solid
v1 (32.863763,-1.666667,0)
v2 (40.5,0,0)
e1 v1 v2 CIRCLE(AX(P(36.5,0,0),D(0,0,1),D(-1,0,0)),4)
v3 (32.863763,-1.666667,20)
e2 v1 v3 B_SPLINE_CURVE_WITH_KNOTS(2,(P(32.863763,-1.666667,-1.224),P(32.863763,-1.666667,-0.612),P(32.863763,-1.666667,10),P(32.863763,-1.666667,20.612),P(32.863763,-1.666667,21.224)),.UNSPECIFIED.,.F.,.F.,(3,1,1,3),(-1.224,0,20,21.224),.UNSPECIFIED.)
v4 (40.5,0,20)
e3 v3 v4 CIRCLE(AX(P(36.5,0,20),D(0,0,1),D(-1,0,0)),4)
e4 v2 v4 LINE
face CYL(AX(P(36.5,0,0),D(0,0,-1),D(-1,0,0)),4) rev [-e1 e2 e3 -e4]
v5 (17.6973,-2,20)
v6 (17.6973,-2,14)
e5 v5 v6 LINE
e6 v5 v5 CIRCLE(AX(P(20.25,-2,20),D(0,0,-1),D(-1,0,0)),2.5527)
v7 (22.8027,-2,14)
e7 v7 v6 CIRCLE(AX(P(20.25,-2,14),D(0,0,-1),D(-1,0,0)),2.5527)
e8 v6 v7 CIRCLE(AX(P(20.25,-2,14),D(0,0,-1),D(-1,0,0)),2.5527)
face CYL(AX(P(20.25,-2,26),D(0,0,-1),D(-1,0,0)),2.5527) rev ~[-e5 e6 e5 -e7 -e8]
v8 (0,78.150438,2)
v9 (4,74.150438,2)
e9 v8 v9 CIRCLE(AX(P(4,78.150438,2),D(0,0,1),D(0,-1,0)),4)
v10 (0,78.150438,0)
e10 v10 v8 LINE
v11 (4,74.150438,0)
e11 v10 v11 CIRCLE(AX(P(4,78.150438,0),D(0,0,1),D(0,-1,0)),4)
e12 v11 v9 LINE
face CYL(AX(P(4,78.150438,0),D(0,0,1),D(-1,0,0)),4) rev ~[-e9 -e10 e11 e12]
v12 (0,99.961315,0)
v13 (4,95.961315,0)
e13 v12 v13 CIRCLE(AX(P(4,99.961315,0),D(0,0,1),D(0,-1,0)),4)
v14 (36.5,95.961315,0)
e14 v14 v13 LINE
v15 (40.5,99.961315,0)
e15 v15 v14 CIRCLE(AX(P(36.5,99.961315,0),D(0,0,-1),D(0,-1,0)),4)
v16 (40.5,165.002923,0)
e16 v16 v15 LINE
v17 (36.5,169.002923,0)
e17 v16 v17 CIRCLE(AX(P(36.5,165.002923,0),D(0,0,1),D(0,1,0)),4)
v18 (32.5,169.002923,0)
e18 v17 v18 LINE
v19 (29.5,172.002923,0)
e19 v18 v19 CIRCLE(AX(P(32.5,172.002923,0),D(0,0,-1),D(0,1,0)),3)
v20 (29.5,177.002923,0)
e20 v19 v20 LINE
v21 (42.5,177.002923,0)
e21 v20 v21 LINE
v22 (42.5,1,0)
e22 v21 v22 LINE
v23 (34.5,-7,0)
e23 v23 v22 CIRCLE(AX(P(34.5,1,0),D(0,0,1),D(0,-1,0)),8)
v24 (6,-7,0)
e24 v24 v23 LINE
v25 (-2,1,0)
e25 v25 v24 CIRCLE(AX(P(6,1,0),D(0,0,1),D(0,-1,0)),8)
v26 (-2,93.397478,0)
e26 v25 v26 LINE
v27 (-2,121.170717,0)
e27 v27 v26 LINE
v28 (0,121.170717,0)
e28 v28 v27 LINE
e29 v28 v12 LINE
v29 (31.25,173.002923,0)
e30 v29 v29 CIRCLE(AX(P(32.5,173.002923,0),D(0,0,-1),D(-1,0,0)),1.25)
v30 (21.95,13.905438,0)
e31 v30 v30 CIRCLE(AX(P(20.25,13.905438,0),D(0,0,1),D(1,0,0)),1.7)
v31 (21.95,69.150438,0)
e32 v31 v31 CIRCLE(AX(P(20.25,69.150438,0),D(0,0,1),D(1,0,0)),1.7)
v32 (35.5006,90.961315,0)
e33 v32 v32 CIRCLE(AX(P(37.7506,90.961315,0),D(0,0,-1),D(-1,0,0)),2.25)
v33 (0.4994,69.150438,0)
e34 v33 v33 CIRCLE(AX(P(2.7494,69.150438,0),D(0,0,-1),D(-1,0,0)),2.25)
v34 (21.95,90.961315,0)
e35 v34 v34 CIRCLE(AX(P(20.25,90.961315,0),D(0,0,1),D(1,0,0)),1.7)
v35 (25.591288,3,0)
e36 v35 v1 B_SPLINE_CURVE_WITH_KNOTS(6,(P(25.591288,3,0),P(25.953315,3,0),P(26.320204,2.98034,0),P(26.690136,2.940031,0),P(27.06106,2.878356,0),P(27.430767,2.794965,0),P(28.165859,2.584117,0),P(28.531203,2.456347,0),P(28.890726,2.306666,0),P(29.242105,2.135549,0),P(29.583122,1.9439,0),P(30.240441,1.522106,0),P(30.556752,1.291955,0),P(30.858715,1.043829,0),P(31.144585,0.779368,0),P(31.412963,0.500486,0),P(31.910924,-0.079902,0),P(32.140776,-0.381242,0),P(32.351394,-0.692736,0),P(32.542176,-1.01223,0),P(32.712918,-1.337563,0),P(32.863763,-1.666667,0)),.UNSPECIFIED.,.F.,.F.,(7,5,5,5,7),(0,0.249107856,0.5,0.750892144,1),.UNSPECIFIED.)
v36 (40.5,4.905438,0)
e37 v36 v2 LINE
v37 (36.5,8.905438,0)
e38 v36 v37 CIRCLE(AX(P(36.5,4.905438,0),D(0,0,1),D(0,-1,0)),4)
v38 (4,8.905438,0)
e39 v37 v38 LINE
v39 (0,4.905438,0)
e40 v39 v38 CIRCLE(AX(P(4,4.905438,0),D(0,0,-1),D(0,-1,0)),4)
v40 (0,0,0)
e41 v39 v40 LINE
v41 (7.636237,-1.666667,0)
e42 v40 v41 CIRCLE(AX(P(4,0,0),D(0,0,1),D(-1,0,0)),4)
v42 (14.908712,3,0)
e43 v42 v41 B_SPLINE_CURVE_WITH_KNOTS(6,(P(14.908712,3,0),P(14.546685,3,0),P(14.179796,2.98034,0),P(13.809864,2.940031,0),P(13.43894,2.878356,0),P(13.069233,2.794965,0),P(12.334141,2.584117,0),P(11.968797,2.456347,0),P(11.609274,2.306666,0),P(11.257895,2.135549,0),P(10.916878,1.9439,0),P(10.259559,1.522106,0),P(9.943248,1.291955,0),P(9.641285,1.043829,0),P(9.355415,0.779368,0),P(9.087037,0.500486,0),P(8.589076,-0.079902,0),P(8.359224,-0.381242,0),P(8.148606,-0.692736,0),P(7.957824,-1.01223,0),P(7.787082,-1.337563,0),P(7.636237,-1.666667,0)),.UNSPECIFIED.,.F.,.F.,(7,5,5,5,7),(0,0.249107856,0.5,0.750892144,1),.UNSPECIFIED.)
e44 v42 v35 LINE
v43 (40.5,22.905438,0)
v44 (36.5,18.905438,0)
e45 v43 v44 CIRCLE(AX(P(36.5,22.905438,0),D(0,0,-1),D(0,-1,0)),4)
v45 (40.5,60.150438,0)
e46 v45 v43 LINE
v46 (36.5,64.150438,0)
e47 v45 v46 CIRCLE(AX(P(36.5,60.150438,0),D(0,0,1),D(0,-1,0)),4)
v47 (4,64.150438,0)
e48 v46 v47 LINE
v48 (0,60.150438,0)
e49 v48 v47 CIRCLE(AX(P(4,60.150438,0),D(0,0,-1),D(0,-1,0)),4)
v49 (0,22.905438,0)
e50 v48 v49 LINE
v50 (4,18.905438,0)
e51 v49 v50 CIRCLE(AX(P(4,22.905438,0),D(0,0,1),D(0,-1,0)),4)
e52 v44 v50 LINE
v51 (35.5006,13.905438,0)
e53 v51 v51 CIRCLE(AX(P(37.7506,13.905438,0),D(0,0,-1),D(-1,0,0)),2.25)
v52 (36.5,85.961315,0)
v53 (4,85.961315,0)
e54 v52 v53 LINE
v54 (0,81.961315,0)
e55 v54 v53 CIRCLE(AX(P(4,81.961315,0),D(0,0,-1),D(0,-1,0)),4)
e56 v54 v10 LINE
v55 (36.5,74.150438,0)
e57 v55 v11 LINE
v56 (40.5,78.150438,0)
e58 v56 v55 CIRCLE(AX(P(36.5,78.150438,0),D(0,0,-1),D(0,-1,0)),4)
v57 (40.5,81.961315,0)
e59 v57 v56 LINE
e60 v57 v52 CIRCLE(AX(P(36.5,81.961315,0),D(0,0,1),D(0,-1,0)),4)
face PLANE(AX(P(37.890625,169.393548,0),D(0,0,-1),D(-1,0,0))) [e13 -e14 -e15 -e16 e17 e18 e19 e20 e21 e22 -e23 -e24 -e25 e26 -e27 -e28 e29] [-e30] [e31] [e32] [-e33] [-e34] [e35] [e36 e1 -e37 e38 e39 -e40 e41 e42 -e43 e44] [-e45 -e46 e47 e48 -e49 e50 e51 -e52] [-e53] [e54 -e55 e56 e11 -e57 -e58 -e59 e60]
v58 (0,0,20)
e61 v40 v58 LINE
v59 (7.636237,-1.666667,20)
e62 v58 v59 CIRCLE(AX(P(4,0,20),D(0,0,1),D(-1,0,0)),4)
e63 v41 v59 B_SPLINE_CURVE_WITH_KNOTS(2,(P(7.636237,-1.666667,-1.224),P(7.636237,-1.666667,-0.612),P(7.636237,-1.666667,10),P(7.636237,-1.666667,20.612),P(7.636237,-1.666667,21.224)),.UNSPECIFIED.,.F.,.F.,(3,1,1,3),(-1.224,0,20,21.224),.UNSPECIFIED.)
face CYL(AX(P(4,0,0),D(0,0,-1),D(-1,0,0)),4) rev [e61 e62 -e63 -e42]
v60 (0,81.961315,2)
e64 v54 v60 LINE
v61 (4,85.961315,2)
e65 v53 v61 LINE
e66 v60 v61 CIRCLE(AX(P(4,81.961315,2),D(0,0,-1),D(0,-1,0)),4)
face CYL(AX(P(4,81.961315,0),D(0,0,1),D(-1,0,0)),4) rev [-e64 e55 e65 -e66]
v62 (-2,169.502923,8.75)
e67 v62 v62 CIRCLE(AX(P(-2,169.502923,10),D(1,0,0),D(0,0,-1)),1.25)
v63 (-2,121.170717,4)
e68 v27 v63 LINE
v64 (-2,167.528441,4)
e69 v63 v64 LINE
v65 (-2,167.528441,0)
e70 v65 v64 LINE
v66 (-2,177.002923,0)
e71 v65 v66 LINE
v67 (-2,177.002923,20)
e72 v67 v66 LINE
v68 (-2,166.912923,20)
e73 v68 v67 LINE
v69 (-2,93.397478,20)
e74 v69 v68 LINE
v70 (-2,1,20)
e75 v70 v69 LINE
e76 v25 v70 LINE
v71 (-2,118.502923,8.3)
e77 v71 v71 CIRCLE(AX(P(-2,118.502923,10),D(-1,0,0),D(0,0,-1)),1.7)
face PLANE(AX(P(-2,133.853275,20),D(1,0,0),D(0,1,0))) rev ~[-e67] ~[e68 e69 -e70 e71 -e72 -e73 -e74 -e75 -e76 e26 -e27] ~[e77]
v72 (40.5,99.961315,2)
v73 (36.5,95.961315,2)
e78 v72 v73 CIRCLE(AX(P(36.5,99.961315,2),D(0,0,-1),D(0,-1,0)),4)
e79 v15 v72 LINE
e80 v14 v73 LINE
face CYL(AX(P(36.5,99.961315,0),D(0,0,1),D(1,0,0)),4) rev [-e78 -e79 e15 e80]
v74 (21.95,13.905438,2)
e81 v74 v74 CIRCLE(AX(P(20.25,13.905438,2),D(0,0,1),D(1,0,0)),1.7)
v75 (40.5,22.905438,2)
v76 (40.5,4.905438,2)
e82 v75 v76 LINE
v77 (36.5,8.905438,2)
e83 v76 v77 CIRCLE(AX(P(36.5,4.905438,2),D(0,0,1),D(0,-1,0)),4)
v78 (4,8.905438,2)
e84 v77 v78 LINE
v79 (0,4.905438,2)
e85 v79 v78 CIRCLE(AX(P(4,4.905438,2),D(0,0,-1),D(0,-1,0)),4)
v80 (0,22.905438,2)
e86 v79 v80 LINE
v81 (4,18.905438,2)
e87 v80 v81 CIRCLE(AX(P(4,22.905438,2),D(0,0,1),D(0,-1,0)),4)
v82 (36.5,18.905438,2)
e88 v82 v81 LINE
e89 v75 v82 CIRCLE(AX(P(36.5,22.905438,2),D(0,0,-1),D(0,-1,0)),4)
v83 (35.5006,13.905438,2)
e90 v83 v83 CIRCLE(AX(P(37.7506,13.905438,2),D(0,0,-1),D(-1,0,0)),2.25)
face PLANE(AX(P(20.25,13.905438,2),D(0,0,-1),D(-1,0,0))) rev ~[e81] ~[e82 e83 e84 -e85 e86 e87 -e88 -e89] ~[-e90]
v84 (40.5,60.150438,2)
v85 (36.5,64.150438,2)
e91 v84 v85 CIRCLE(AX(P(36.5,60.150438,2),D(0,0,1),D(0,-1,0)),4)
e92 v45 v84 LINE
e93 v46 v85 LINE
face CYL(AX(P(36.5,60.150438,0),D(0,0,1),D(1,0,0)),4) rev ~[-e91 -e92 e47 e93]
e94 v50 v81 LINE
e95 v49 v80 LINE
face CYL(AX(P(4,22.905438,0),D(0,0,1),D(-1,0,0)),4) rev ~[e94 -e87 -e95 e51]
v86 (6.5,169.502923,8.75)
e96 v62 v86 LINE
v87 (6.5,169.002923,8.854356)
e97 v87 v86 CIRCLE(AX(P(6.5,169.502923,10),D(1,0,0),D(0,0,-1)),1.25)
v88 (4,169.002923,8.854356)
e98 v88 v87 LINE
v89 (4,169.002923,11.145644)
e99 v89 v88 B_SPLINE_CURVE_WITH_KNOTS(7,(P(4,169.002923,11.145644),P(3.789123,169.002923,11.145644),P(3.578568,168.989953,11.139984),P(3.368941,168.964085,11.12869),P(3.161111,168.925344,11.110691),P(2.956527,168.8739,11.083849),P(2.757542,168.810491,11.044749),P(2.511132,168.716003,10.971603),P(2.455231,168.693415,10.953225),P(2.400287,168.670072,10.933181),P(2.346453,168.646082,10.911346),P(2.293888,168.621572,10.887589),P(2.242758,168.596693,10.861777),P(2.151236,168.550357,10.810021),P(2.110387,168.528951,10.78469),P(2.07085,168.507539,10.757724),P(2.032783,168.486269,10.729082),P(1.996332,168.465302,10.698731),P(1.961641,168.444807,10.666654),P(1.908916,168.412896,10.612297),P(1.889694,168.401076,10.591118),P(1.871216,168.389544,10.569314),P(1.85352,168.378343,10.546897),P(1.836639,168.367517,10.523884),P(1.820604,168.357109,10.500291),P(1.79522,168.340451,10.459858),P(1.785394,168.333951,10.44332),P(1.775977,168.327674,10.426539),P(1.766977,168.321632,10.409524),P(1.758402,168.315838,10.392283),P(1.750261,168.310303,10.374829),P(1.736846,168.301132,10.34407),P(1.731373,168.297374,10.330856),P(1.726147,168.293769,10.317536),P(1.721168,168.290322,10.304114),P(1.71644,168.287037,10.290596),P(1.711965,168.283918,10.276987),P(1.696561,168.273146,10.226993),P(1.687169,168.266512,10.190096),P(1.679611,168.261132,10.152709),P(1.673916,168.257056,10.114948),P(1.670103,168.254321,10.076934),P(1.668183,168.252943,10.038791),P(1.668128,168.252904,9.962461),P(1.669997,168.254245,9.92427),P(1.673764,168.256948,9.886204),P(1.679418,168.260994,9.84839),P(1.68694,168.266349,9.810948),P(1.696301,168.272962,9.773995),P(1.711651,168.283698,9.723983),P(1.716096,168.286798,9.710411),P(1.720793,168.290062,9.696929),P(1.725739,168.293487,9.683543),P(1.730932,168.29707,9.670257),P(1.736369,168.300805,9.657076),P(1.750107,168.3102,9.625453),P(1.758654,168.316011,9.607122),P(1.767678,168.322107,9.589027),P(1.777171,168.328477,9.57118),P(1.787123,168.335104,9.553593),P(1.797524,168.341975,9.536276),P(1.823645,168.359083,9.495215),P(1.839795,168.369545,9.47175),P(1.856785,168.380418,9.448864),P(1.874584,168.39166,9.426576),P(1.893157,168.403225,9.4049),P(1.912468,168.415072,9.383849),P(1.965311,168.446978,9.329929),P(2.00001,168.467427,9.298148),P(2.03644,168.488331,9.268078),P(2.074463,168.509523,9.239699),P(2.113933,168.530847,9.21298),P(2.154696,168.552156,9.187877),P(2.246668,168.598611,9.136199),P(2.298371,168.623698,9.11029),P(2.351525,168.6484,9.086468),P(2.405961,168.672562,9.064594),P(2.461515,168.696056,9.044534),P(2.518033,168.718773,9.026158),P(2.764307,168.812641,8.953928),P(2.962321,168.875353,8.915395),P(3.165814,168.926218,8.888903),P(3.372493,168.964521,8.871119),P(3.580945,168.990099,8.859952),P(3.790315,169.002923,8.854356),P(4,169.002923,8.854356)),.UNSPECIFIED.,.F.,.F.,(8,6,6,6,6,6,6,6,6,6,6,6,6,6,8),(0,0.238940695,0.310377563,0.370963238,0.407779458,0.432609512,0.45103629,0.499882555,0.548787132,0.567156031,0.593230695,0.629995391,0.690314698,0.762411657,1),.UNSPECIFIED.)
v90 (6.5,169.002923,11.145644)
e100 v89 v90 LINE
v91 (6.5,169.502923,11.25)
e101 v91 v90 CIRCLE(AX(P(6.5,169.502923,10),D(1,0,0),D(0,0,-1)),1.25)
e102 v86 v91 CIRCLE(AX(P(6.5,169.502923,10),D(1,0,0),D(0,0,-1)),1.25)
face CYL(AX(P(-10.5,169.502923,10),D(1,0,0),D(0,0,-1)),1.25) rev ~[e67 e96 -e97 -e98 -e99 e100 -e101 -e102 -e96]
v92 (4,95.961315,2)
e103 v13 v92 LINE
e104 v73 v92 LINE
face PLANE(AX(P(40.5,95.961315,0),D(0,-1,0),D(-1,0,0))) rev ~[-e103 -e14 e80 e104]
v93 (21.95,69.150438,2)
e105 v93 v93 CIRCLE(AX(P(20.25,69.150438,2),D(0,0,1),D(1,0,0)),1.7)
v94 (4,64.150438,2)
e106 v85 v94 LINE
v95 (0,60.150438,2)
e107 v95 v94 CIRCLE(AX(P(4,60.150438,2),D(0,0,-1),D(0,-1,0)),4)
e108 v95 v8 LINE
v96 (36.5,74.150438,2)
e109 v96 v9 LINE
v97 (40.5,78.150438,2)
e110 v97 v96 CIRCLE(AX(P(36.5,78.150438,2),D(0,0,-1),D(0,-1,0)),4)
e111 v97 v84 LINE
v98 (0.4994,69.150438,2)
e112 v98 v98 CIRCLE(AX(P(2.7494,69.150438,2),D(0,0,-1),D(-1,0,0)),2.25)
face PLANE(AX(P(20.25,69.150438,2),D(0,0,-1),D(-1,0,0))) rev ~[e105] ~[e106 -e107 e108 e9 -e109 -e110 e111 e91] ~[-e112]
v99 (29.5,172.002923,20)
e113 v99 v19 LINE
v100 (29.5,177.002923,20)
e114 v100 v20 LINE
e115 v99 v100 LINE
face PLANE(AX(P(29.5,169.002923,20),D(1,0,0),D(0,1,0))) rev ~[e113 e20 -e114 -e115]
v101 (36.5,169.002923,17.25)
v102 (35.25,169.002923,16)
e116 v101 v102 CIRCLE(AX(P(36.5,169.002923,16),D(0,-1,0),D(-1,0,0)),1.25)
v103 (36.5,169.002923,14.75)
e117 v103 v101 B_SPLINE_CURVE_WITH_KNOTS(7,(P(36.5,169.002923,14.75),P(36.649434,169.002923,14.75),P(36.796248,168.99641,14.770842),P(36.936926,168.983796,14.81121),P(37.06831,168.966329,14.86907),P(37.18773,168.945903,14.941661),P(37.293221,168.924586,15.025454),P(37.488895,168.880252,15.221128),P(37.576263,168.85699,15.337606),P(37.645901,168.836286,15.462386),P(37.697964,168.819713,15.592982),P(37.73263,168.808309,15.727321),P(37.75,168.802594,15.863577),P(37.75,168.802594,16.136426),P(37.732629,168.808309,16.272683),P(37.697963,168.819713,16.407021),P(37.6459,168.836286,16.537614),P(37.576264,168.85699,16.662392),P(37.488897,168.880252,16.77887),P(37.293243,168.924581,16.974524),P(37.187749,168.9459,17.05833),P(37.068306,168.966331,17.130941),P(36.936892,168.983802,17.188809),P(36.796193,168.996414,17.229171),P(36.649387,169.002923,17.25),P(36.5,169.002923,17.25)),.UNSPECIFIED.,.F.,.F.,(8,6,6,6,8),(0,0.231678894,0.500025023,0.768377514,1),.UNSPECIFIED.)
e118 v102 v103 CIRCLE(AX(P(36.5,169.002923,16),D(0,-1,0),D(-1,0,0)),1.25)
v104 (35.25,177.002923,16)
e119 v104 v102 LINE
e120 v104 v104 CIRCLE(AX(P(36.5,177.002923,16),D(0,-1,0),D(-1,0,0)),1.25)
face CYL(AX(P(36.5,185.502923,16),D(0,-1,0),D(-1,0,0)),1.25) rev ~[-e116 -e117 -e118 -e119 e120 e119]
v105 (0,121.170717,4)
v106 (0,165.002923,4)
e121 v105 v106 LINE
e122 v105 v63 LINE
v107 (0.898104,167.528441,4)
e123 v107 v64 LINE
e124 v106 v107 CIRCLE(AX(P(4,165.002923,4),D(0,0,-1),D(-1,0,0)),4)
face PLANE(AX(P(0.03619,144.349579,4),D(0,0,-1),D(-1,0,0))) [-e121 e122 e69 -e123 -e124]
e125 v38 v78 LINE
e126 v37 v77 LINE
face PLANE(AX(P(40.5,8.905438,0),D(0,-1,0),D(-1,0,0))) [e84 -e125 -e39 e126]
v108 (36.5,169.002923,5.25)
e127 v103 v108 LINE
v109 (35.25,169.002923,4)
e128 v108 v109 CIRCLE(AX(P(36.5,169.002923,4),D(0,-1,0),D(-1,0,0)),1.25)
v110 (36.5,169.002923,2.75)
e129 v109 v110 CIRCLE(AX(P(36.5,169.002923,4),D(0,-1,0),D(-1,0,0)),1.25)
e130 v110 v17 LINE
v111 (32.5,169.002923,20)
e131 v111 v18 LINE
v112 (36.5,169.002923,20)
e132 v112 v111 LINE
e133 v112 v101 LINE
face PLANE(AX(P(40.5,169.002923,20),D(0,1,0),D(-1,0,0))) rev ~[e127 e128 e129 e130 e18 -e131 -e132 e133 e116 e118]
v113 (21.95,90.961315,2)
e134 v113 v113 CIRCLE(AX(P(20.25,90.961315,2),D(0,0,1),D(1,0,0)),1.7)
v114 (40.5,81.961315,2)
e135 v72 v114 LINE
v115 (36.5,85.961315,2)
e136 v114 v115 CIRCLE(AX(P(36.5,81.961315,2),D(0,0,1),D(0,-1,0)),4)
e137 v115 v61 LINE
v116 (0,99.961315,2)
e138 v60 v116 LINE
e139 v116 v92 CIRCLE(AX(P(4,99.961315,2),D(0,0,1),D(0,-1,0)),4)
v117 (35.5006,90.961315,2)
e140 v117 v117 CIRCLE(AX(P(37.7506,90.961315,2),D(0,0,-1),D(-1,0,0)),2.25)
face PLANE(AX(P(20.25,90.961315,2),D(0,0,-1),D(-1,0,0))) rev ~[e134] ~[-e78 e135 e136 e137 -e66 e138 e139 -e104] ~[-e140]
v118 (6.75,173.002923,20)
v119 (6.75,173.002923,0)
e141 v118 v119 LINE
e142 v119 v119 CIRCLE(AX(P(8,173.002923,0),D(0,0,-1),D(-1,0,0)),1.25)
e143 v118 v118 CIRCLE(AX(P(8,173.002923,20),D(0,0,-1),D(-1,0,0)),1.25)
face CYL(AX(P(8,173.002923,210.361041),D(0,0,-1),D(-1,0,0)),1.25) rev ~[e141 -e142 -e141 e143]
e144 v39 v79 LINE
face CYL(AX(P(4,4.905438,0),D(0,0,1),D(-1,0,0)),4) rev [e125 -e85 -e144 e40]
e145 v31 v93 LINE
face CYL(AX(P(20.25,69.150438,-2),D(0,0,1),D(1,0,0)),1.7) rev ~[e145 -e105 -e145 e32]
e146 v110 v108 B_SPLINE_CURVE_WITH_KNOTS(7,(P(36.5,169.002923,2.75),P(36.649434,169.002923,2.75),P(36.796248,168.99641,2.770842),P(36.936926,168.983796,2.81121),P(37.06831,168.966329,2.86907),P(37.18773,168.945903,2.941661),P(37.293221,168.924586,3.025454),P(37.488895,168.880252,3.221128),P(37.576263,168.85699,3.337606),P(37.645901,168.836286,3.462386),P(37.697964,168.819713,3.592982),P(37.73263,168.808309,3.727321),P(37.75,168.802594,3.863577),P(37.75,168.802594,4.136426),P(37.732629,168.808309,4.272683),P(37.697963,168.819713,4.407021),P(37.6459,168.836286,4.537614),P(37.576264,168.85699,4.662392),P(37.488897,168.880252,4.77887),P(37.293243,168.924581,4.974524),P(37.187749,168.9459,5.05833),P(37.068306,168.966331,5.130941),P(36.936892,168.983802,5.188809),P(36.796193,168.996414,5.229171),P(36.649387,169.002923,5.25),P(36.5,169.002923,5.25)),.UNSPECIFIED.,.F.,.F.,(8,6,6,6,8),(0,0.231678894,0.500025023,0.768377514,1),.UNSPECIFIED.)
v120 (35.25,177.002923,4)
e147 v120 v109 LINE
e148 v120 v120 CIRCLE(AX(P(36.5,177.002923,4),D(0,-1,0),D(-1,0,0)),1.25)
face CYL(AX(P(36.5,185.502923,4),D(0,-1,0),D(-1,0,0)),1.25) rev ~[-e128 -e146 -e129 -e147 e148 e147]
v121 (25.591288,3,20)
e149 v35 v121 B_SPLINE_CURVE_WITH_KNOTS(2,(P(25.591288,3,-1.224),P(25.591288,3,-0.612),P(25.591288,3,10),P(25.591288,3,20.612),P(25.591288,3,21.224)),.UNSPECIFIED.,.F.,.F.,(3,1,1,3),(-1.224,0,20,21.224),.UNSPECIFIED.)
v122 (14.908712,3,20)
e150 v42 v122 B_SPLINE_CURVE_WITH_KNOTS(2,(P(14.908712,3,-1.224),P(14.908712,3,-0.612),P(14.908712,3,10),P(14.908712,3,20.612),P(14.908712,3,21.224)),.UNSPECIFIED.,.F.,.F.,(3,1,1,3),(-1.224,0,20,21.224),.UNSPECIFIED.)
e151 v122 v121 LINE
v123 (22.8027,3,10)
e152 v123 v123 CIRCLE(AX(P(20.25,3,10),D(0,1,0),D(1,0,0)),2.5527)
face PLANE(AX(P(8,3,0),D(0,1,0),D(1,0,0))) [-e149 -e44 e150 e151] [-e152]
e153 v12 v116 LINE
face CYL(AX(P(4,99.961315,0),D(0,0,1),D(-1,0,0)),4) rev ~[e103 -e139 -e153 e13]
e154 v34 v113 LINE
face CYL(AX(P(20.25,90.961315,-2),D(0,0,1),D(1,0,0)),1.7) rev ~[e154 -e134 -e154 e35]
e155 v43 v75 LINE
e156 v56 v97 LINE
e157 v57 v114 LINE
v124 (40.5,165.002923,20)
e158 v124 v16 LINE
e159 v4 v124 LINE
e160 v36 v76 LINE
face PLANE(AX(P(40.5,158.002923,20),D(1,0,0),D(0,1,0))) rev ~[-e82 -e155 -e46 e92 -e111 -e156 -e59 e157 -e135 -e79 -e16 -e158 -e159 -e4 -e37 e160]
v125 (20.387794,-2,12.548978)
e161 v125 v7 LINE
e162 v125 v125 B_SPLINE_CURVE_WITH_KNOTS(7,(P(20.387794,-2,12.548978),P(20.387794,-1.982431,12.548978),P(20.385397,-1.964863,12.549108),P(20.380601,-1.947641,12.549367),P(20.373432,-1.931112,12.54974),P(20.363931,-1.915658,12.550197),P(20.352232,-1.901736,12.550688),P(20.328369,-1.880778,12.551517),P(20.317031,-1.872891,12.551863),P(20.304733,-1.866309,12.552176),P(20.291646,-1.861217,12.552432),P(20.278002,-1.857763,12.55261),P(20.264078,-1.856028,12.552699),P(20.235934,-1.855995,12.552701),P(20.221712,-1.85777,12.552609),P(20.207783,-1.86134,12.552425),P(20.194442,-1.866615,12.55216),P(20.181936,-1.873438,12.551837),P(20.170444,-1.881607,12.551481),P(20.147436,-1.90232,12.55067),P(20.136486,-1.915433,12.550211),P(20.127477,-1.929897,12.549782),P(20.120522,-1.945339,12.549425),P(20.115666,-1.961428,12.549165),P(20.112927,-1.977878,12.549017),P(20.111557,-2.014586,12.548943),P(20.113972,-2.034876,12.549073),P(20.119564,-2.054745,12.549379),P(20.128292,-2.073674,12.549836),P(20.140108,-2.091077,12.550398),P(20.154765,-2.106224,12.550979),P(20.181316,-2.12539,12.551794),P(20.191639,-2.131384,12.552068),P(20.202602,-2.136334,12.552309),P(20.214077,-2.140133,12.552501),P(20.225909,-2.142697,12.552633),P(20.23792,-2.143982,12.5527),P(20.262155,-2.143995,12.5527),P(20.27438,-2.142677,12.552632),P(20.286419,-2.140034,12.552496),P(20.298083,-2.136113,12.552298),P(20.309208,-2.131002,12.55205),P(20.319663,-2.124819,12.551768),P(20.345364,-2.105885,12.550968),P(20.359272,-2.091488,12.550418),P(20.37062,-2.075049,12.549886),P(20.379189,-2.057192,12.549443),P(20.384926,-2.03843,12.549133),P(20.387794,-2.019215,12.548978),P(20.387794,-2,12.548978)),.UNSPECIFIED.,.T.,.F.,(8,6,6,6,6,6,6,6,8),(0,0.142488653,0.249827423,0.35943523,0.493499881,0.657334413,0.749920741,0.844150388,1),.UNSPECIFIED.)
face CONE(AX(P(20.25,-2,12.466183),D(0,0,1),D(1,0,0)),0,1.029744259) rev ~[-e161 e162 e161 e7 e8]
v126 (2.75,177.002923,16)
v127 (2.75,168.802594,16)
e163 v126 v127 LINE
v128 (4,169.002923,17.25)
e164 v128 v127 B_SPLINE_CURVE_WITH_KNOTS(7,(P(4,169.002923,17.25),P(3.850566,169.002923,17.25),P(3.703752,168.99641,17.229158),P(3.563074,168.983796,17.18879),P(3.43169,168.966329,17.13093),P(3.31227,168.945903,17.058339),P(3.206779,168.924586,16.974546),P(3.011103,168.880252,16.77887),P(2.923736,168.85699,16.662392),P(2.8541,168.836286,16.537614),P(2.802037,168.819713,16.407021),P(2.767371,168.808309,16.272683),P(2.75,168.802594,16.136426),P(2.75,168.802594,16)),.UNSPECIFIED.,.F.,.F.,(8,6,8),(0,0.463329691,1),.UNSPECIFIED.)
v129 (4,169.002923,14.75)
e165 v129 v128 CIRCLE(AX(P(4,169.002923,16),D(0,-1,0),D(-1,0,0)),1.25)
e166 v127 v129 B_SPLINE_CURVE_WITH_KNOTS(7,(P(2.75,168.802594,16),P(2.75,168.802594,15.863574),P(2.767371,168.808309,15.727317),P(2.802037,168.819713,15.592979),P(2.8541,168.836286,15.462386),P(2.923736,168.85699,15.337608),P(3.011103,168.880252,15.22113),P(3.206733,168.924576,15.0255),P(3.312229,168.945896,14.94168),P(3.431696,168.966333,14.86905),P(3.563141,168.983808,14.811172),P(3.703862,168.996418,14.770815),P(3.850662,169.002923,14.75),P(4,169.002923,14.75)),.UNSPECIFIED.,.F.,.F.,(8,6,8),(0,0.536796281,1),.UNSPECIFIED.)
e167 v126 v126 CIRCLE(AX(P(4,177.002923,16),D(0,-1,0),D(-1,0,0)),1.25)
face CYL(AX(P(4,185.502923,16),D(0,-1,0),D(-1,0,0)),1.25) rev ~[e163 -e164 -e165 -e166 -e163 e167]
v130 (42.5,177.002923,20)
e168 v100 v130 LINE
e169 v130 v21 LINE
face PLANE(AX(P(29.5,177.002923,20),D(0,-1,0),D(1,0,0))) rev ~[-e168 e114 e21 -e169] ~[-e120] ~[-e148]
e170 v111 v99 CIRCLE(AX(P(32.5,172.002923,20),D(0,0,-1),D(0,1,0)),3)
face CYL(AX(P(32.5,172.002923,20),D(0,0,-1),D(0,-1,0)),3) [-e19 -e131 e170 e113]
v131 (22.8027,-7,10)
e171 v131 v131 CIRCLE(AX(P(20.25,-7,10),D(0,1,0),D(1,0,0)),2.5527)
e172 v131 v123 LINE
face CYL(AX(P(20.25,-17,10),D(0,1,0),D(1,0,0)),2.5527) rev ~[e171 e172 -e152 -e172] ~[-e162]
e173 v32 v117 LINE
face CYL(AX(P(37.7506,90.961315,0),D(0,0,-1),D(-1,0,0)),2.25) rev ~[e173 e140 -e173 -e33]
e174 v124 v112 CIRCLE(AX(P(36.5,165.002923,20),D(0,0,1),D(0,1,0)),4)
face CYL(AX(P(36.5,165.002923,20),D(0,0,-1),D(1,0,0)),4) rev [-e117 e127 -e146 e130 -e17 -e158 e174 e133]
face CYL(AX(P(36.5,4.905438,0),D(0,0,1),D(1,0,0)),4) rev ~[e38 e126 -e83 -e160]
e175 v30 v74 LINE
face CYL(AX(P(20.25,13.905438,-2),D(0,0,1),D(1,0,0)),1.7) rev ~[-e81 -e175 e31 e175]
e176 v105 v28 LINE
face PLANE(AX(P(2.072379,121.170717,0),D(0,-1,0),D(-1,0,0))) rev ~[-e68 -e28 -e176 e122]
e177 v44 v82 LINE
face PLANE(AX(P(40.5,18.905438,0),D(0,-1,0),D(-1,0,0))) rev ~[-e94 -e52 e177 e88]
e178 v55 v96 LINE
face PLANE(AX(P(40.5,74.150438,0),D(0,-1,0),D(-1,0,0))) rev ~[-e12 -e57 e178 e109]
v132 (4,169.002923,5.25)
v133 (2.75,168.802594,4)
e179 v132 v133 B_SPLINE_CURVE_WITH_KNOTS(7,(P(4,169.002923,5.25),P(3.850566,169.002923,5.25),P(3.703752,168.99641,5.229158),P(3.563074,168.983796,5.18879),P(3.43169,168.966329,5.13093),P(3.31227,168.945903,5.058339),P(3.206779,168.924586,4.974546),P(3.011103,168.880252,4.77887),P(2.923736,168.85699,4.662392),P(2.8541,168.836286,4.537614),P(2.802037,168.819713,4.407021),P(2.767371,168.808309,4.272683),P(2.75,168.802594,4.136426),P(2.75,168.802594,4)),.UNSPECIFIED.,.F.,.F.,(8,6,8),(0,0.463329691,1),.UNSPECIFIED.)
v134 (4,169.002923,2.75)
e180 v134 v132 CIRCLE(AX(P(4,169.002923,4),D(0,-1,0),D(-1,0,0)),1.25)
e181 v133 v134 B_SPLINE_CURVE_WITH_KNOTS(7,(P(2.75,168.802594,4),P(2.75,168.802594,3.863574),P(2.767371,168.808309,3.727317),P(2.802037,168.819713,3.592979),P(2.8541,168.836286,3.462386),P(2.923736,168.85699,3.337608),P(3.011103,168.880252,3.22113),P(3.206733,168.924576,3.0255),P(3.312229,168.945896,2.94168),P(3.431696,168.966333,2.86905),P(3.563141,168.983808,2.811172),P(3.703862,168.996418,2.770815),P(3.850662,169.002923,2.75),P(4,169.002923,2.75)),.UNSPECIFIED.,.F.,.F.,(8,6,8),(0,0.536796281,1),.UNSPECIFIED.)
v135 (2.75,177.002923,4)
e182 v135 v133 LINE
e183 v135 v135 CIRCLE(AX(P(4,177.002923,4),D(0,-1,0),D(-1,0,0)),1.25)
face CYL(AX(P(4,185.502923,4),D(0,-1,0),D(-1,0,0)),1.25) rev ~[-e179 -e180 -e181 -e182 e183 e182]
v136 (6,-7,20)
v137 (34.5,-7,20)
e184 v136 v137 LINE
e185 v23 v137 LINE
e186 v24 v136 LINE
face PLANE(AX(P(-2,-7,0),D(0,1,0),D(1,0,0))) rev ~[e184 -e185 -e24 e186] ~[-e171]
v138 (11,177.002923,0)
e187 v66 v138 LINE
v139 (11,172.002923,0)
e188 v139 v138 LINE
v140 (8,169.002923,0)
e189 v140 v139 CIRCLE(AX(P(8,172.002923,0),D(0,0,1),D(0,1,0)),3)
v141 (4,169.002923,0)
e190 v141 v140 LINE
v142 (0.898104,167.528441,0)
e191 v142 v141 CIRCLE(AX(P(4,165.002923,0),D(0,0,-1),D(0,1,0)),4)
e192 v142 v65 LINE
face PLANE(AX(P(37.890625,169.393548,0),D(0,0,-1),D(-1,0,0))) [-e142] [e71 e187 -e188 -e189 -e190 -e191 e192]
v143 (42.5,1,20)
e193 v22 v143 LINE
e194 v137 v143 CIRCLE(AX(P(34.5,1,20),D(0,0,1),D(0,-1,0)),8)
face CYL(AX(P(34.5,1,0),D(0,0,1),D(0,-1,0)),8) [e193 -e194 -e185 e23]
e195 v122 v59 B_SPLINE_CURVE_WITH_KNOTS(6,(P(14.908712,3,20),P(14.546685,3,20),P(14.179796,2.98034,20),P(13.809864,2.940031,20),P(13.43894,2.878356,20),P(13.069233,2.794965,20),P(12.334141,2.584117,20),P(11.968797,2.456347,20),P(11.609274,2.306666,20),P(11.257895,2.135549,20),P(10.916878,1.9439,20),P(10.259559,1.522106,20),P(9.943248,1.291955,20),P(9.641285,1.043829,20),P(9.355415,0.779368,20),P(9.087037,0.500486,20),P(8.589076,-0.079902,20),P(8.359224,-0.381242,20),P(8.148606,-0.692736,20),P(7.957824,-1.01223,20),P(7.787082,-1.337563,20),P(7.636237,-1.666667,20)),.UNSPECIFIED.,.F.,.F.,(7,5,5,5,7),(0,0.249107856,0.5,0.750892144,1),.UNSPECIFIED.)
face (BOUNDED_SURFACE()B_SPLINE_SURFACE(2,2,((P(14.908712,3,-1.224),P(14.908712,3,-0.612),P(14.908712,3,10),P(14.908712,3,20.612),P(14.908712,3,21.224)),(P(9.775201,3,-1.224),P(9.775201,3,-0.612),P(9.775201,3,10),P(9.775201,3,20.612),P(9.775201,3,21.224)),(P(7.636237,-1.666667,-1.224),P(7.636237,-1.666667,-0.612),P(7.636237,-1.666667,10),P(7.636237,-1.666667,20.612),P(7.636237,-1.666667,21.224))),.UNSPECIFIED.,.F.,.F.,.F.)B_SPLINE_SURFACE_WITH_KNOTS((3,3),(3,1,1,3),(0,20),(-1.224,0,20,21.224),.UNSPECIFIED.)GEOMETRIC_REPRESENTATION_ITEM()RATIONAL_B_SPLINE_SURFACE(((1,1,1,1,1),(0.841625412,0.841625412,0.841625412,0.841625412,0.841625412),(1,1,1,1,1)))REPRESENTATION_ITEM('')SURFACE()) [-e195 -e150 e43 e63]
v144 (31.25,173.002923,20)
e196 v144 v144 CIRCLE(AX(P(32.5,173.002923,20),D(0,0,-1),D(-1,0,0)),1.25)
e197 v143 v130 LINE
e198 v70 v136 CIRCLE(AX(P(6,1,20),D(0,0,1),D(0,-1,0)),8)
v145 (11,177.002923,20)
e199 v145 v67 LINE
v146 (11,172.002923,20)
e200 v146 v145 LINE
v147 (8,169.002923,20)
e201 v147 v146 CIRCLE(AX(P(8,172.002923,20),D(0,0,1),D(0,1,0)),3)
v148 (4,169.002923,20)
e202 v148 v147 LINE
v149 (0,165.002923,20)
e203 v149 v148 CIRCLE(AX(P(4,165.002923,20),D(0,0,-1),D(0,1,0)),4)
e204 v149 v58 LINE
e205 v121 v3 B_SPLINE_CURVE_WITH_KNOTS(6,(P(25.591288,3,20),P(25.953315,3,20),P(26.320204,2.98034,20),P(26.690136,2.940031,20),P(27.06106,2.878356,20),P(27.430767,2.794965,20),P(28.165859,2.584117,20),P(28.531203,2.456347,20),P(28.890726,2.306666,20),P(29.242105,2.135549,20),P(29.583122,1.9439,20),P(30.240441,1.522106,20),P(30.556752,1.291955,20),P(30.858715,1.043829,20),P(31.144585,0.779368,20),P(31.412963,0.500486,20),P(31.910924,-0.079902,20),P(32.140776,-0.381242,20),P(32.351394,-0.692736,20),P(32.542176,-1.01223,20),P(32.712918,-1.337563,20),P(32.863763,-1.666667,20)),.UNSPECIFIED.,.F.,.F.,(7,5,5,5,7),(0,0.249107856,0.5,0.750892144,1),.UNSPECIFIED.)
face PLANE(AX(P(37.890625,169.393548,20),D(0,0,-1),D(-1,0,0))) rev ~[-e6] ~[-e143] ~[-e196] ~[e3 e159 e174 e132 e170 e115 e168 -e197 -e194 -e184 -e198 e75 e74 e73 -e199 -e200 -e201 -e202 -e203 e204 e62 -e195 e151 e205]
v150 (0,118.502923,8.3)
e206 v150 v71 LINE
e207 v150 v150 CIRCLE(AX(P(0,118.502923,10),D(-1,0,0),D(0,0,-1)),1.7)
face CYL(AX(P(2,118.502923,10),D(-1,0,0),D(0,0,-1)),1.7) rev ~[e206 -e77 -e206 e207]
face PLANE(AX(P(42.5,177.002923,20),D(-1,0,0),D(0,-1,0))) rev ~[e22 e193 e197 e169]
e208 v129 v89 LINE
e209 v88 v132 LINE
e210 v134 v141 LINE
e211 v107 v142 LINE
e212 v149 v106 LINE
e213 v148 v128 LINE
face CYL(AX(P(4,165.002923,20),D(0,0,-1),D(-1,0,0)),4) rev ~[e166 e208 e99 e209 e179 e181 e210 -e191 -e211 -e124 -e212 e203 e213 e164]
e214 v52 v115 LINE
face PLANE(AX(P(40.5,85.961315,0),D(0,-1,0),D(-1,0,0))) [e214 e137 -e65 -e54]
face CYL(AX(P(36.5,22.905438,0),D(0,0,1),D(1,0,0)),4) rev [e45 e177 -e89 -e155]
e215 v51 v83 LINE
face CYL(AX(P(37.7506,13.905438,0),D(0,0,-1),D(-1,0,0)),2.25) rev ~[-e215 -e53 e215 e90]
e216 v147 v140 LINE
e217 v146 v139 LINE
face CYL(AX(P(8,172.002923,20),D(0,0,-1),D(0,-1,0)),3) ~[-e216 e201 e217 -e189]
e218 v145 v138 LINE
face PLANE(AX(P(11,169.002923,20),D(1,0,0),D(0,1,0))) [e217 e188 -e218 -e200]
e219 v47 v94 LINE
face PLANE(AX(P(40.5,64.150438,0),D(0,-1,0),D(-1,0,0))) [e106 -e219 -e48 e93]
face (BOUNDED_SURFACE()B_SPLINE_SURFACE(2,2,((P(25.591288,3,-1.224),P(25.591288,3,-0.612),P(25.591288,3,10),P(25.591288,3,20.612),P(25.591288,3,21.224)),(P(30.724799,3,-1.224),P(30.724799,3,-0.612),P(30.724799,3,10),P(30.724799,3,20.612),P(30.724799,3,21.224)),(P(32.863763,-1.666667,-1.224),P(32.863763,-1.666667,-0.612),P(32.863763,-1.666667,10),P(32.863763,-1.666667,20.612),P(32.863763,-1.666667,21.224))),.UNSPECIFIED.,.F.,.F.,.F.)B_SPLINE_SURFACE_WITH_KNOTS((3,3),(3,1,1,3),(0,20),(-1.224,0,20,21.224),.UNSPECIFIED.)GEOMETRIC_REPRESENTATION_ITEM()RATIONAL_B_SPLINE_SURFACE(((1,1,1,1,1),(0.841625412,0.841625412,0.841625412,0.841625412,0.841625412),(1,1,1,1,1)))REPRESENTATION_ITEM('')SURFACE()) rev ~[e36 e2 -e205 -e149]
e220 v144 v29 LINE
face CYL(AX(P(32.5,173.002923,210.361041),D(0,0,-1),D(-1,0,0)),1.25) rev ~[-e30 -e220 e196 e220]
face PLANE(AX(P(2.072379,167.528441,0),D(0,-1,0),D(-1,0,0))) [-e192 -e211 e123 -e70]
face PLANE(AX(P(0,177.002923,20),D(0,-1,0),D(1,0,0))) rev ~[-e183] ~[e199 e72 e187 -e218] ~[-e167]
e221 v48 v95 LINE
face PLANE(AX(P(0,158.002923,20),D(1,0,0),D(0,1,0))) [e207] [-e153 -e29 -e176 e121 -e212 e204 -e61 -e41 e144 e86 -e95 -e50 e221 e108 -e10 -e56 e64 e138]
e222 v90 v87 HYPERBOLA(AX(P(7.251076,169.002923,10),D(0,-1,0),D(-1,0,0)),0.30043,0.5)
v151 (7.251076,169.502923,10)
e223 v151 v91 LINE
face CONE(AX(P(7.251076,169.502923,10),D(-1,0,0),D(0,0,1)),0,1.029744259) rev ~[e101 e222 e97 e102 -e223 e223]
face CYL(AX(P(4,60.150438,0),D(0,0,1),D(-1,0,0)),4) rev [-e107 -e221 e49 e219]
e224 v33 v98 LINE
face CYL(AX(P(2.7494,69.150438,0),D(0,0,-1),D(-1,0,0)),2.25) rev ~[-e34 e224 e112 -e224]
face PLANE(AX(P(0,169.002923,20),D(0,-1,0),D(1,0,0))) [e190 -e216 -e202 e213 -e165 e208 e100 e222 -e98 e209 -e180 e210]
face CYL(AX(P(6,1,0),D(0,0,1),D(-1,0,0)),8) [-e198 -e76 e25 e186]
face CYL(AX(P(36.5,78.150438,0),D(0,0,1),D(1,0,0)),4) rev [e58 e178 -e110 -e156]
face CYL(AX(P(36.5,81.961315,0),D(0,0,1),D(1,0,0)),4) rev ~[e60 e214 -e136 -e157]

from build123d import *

# Parameters (mm, degrees)
SKETCH_1_W                = 44.5
SKETCH_1_H                = 182
EXTRUDE_1_DEPTH           = 20
FILLET_1_R                = 8
HOLE_WIZARD_1_4_201_D     = 5.1054
HOLE_WIZARD_1_4_201_DEPTH = 10
EXTRUDE_2_DEPTH           = 20
FILLET_2_R                = 100
CUT_EXTRUDE_1_REACH       = 183.194
CUT_EXTRUDE_2_REACH       = 183.636
SKETCH_7_R                = 5.25
EXTRUDE_3_DEPTH           = 20
FILLET_7_R                = 4
SKETCH_10_W               = 2
SKETCH_10_H               = 14.136672327
EXTRUDE_4_DEPTH           = 20
CUT_EXTRUDE_3_REACH       = 183.636
SKETCH_11_R               = 4.1
CUT_EXTRUDE_START         = -20
SKETCH_12_W               = 51.6
SKETCH_12_H               = 5.672918443
CUT_EXTRUDE_4_DEPTH       = 20
EXTRUDE_5_DEPTH           = 20
SKETCH_14_W               = 9.175537657
SKETCH_14_H               = 83.087631714
CUT_EXTRUDE_5_DEPTH       = 182.8267939
SKETCH_15_W               = 5
SKETCH_15_H               = 5
EXTRUDE_6_DEPTH           = 20
FILLET_10_R               = 4
HOLE_WIZARD_M31_D         = 3.4
HOLE_WIZARD_M31_DEPTH     = 2
SKETCH_21_W               = 2
SKETCH_21_H               = 34.801878649
EXTRUDE_7_DEPTH           = 20
SKETCH_23_W               = 44.5
SKETCH_23_H               = 8.742230238
CUT_EXTRUDE_8_DEPTH       = 182.8267939
SKETCH_30_W               = 2
SKETCH_30_H               = 10.09
EXTRUDE_9_DEPTH           = 20
CUT_EXTRUDE_9_REACH       = 185.604
SKETCH_32_W               = 5
SKETCH_32_H               = 3
EXTRUDE_10_DEPTH          = 20
FILLET_18_R               = 4
SKETCH_33_W               = 40.5
SKETCH_33_H               = 10
EXTRUDE_11_DEPTH          = 2
FILLET_19_R               = 4
HOLE_WIZARD_M33_D         = 3.4
HOLE_WIZARD_M33_DEPTH     = 2
HOLE_WIZARD_M33_TIP       = 1.021463052
SKETCH_36_W               = 42.5
SKETCH_36_H               = 19
CUT_EXTRUDE_11_DEPTH      = 20
SKETCH_37_W               = 11
SKETCH_37_H               = 8
EXTRUDE_12_DEPTH          = 20
FILLET_21_R               = 4
FILLET_22_R               = 3
HOLE_WIZARD_1_4_202_D     = 5.1054
HOLE_WIZARD_1_4_202_DEPTH = 6
HOLE_WIZARD_1_4_202_TIP   = 1.533816902
M3X0_52_D                 = 2.5
SKETCH_51_W               = 4.072379094
SKETCH_51_H               = 46.357723245
CUT_EXTRUDE_13_DEPTH      = 4
M3X0_53_D                 = 2.5
M3X0_53_DEPTH             = 8.5
M3X0_53_TIP               = 0.751075774
CUT_EXTRUDE_14_REACH      = 185.129
SKETCH_54_R               = 2.25
M3X0_54_D                 = 2.5
M3X0_54_DEPTH             = 8.5
M3X0_54_TIP               = 0.751075774


with BuildPart() as part:
    # Эскиз1 → Бобышка-Вытянуть1 (new body)
    with BuildSketch(Plane.XY):
        with Locations((20.25, 84)):
            Rectangle(SKETCH_1_W, SKETCH_1_H)
        with BuildLine():
            Line((8, 3), (32.5, 3))
            Line((32.5, 3), (32.5, 0))
            ThreePointArc((32.5, 0), (36.5, -4), (40.5, 0))
            Line((40.5, 0), (40.5, 173))
            Line((40.5, 173), (0, 173))
            Line((0, 173), (0, 0))
            ThreePointArc((0, 0), (4, -4), (8, 0))
            Line((8, 0), (8, 3))
        make_face(mode=Mode.SUBTRACT)
    extrude(amount=EXTRUDE_1_DEPTH)

    # Скругление1
    fillet_1_edges = [part.edges().sort_by_distance(p)[0] for p in [
        (42.5, -7, 10),
        (-2, -7, 10),
        (32.5, 3, 10),
        (8, 3, 10),
    ]]
    fillet(fillet_1_edges, radius=FILLET_1_R)

    # Отверстие обработанное метчиком 1/4-201
    with Locations(Plane(origin=(0, -7, 0), x_dir=(-1, 0, 0), z_dir=(0, -1, 0))):
        with Locations((-20.25, -10)):
            Hole(HOLE_WIZARD_1_4_201_D / 2, depth=HOLE_WIZARD_1_4_201_DEPTH)

    # Эскиз5 → Бобышка-Вытянуть2 (add)
    with BuildSketch(Plane.XY.offset(20)):
        with BuildLine():
            Line((-7.1, 158), (-7.1, 139))
            ThreePointArc((-7.1, 139), (-5.807601094, 127.936546651), (-2, 117.468859761))
            Line((-2, 117.468859761), (-2, 113.317515696))
            ThreePointArc((-2, 113.317515696), (-7.29232304, 125.677087406), (-9.1, 139))
            Line((-9.1, 139), (-9.1, 158))
            Line((-9.1, 158), (-7.1, 158))
        make_face()
    extrude(amount=-EXTRUDE_2_DEPTH)

    # Скругление2
    fillet_2_edges = [part.edges().sort_by_distance(p)[0] for p in [
        (-2, 113.317515696, 10),
    ]]
    fillet(fillet_2_edges, radius=FILLET_2_R)

    # Эскиз6 → Вырез-Вытянуть1 (cut, up to next)
    with BuildSketch(Plane.XY.offset(20), mode=Mode.PRIVATE) as cut_extrude_1_sk1:
        Polygon((0, 173), (0, 117.468859761), (-2, 117.468859761), (-2, 170), (-2, 175), (42.5, 175), (42.5, 173), align=None)
    cut_extrude_1_tool1 = extrude(cut_extrude_1_sk1.sketch, amount=-CUT_EXTRUDE_1_REACH, mode=Mode.PRIVATE) & part.part
    add(cut_extrude_1_tool1.solids().sort_by_distance((-0.72733, 145.23443, 20))[0], mode=Mode.SUBTRACT)

    # Эскиз7 → Вырез-Вытянуть2 (cut, up to next)
    with BuildSketch(Plane.ZY.offset(9.1), mode=Mode.PRIVATE) as cut_extrude_2_sk1:
        with Locations((10, 145.426275666)):
            Circle(SKETCH_7_R)
    cut_extrude_2_tool1 = extrude(cut_extrude_2_sk1.sketch, amount=-CUT_EXTRUDE_2_REACH, mode=Mode.PRIVATE) & part.part
    add(cut_extrude_2_tool1.solids().sort_by_distance((-9.1, 145.426276, 10))[0], mode=Mode.SUBTRACT)

    # Эскиз9 → Бобышка-Вытянуть3 (add)
    with BuildSketch(Plane.XY.offset(20)):
        with BuildLine():
            Line((-6.823277546, 133.853274797), (0, 133.853274797))
            Line((0, 133.853274797), (0, 117.468859761))
            Line((0, 117.468859761), (-2, 117.468859761))
            ThreePointArc((-2, 117.468859761), (-5.146247103, 125.444811779), (-6.823277546, 133.853274797))
        make_face()
    extrude(amount=-EXTRUDE_3_DEPTH)

    # Скругление7
    fillet_7_edges = [part.edges().sort_by_distance(p)[0] for p in [
        (-6.823277546, 133.853274797, 10),
    ]]
    fillet(fillet_7_edges, radius=FILLET_7_R)

    # Эскиз10 → Бобышка-Вытянуть4 (add)
    with BuildSketch(Plane.XY.offset(20)):
        with Locations((-8.1, 165.068336164)):
            Rectangle(SKETCH_10_W, SKETCH_10_H)
    extrude(amount=-EXTRUDE_4_DEPTH)

    # Эскиз11 → Вырез-Вытянуть3 (cut, up to next)
    with BuildSketch(Plane.ZY.offset(9.1), mode=Mode.PRIVATE) as cut_extrude_3_sk1:
        with Locations((10, 162.426275666)):
            Circle(SKETCH_11_R)
    cut_extrude_3_tool1 = extrude(cut_extrude_3_sk1.sketch, amount=-CUT_EXTRUDE_3_REACH, mode=Mode.PRIVATE) & part.part
    add(cut_extrude_3_tool1.solids().sort_by_distance((-9.1, 162.426276, 10))[0], mode=Mode.SUBTRACT)

    # Эскиз12 → Вырез-Вытянуть4 (cut)
    with BuildSketch(Plane.XY.offset(20).offset(CUT_EXTRUDE_START)):
        with Locations((16.7, 172.491612668)):
            Rectangle(SKETCH_12_W, SKETCH_12_H)
    extrude(amount=CUT_EXTRUDE_4_DEPTH, mode=Mode.SUBTRACT)

    # Эскиз13 → Бобышка-Вытянуть5 (add)
    with BuildSketch(Plane.XY.offset(20)):
        with BuildLine():
            Line((36.5, 175.655153446), (-3.1, 175.655153446))
            ThreePointArc((-3.1, 175.655153446), (-7.342640687, 173.897794133), (-9.1, 169.655153446))
            Line((-9.1, 169.655153446), (-7.1, 169.655153446))
            ThreePointArc((-7.1, 169.655153446), (-5.928427125, 172.483580571), (-3.1, 173.655153446))
            Line((-3.1, 173.655153446), (36.5, 173.655153446))
            ThreePointArc((36.5, 173.655153446), (39.328427125, 172.483580571), (40.5, 169.655153446))
            Line((40.5, 169.655153446), (42.5, 169.655153446))
            ThreePointArc((42.5, 169.655153446), (40.742640687, 173.897794133), (36.5, 175.655153446))
        make_face()
    extrude(amount=-EXTRUDE_5_DEPTH)

    # Эскиз14 → Вырез-Вытянуть5 (cut, through all)
    with BuildSketch(Plane.XY.offset(20)):
        with Locations((-6.587768829, 134.941293997)):
            Rectangle(SKETCH_14_W, SKETCH_14_H)
    extrude(amount=-CUT_EXTRUDE_5_DEPTH, mode=Mode.SUBTRACT)

    # Эскиз15 → Бобышка-Вытянуть6 (add)
    with BuildSketch(Plane.XY.offset(20)):
        with Locations((0.5, 171.155153446)):
            Rectangle(SKETCH_15_W, SKETCH_15_H)
    extrude(amount=-EXTRUDE_6_DEPTH)

    # Скругление10
    fillet_10_edges = [part.edges().sort_by_distance(p)[0] for p in [
        (3, 173.655153446, 10),
    ]]
    fillet(fillet_10_edges, radius=FILLET_10_R)

    # Отверстие с зазором M31
    with Locations(Plane(origin=(0, -2.517488078, -0.880886236), x_dir=(0, 0, 1), z_dir=(1, 0, 0))):
        with Locations((10.880886236, -121.020411286)):
            Hole(HOLE_WIZARD_M31_D / 2, depth=HOLE_WIZARD_M31_DEPTH)

    # Эскиз21 → Бобышка-Вытянуть7 (add)
    with BuildSketch(Plane.XY.offset(20)):
        with Locations((-1, 151.254214122)):
            Rectangle(SKETCH_21_W, SKETCH_21_H)
    extrude(amount=-EXTRUDE_7_DEPTH)

    # Эскиз23 → Вырез-Вытянуть8 (cut, through all)
    with BuildSketch(Plane.XY.offset(20)):
        with Locations((20.25, 171.284038327)):
            Rectangle(SKETCH_23_W, SKETCH_23_H)
    extrude(amount=-CUT_EXTRUDE_8_DEPTH, mode=Mode.SUBTRACT)

    # Эскиз30 → Бобышка-Вытянуть9 (add)
    with BuildSketch(Plane.XY.offset(20)):
        with Locations((41.5, 171.957923208)):
            Rectangle(SKETCH_30_W, SKETCH_30_H)
        with Locations((-1, 171.957923208)):
            Rectangle(SKETCH_30_W, SKETCH_30_H)
    extrude(amount=-EXTRUDE_9_DEPTH)

    # Эскиз27 → Вырез-Вытянуть9 (cut, up to next)
    with BuildSketch(Plane(origin=(42.5, 0, 0), x_dir=(0, 0, -1), z_dir=(1, 0, 0)), mode=Mode.PRIVATE) as cut_extrude_9_sk1:
        with BuildLine():
            Line((-11.7, 166.702923208), (-8.3, 166.702923208))
            ThreePointArc((-8.3, 166.702923208), (-4.6, 163.002923208), (-8.3, 159.302923208))
            Line((-8.3, 159.302923208), (-11.7, 159.302923208))
            ThreePointArc((-11.7, 159.302923208), (-15.4, 163.002923208), (-11.7, 166.702923208))
        make_face()
    cut_extrude_9_tool1 = extrude(cut_extrude_9_sk1.sketch, amount=-CUT_EXTRUDE_9_REACH, mode=Mode.PRIVATE) & part.part
    add(cut_extrude_9_tool1.solids().sort_by_distance((42.5, 163.002923, 10))[0], mode=Mode.SUBTRACT)

    # Эскиз32 → Бобышка-Вытянуть10 (add)
    with BuildSketch(Plane.XY.offset(20)):
        with Locations((2.5, 175.502923208)):
            Rectangle(SKETCH_32_W, SKETCH_32_H)
        with Locations((38, 175.502923208)):
            Rectangle(SKETCH_32_W, SKETCH_32_H)
    extrude(amount=-EXTRUDE_10_DEPTH)

    # Скругление18
    fillet_18_edges = [part.edges().sort_by_distance(p)[0] for p in [
        (0, 174.002923208, 10),
        (40.5, 174.002923208, 10),
    ]]
    fillet(fillet_18_edges, radius=FILLET_18_R)

    # Эскиз33 → Бобышка-Вытянуть11 (add)
    with BuildSketch(Plane(origin=(0, 0, 0), x_dir=(-1, 0, 0), z_dir=(0, 0, -1))):
        with Locations((-20.25, 13.905438329)):
            Rectangle(SKETCH_33_W, SKETCH_33_H)
        with Locations((-20.25, 90.961314987)):
            Rectangle(SKETCH_33_W, SKETCH_33_H)
        with Locations((-20.25, 69.150438329)):
            Rectangle(SKETCH_33_W, SKETCH_33_H)
    extrude(amount=-EXTRUDE_11_DEPTH)

    # Скругление19
    fillet_19_edges = [part.edges().sort_by_distance(p)[0] for p in [
        (40.5, 85.961314987, 1),
        (40.5, 95.961314987, 1),
        (0, 95.961314987, 1),
        (0, 85.961314987, 1),
        (40.5, 64.150438329, 1),
        (40.5, 74.150438329, 1),
        (0, 74.150438329, 1),
        (0, 64.150438329, 1),
        (40.5, 8.905438329, 1),
        (40.5, 18.905438329, 1),
        (0, 18.905438329, 1),
        (0, 8.905438329, 1),
    ]]
    fillet(fillet_19_edges, radius=FILLET_19_R)

    # Отверстие с зазором M33
    with Locations(Plane(origin=(0, 0, 0), x_dir=(-1, 0, 0), z_dir=(0, 0, -1))):
        with Locations((-20.25, 13.905438329), (-20.25, 69.150438329), (-20.25, 90.961314987)):
            Hole(HOLE_WIZARD_M33_D / 2, depth=HOLE_WIZARD_M33_DEPTH)
            with Locations((0, 0, -(HOLE_WIZARD_M33_DEPTH + HOLE_WIZARD_M33_TIP / 2))):  # 118° drill point
                Cone(0, HOLE_WIZARD_M33_D / 2, HOLE_WIZARD_M33_TIP, mode=Mode.SUBTRACT)

    # Эскиз36 → Вырез-Вытянуть11 (cut)
    with BuildSketch(Plane.XY.offset(20)):
        with Locations((21.25, 167.502923208)):
            Rectangle(SKETCH_36_W, SKETCH_36_H)
    extrude(amount=-CUT_EXTRUDE_11_DEPTH, mode=Mode.SUBTRACT)

    # Эскиз37 → Бобышка-Вытянуть12 (add)
    with BuildSketch(Plane.XY.offset(20)):
        Polygon((42.5, 158.002923208), (40.5, 158.002923208), (40.5, 169.002923208), (29.5, 169.002923208), (29.5, 177.002923208), (42.5, 177.002923208), align=None)
        with Locations((5.5, 173.002923208)):
            Rectangle(SKETCH_37_W, SKETCH_37_H)
    extrude(amount=-EXTRUDE_12_DEPTH)

    # Скругление21
    fillet_21_edges = [part.edges().sort_by_distance(p)[0] for p in [
        (40.5, 169.002923208, 10),
        (0, 169.002923208, 10),
    ]]
    fillet(fillet_21_edges, radius=FILLET_21_R)

    # Скругление22
    fillet_22_edges = [part.edges().sort_by_distance(p)[0] for p in [
        (29.5, 169.002923208, 10),
        (11, 169.002923208, 10),
    ]]
    fillet(fillet_22_edges, radius=FILLET_22_R)

    # Отверстие обработанное метчиком 1/4-202
    with Locations(Plane.XY.offset(20)):
        with Locations((20.25, -2)):
            Hole(HOLE_WIZARD_1_4_202_D / 2, depth=HOLE_WIZARD_1_4_202_DEPTH)
            with Locations((0, 0, -(HOLE_WIZARD_1_4_202_DEPTH + HOLE_WIZARD_1_4_202_TIP / 2))):  # 118° drill point
                Cone(0, HOLE_WIZARD_1_4_202_D / 2, HOLE_WIZARD_1_4_202_TIP, mode=Mode.SUBTRACT)

    # Отверстие обработанное метчиком M3x0.52 (through all)
    with Locations(Plane.XY.offset(20)):
        with Locations((8, 173.002923208), (32.5, 173.002923208)):
            Hole(M3X0_52_D / 2)

    # Эскиз51 → Вырез-Вытянуть13 (cut)
    with BuildSketch(Plane(origin=(0, 0, 0), x_dir=(-1, 0, 0), z_dir=(0, 0, -1))):
        with Locations((-0.036189547, 144.349578988)):
            Rectangle(SKETCH_51_W, SKETCH_51_H)
    extrude(amount=-CUT_EXTRUDE_13_DEPTH, mode=Mode.SUBTRACT)

    # Отверстие обработанное метчиком M3x0.53
    with Locations(Plane.ZY.offset(2)):
        with Locations((10, 169.502923208)):
            Hole(M3X0_53_D / 2, depth=M3X0_53_DEPTH)
            with Locations((0, 0, -(M3X0_53_DEPTH + M3X0_53_TIP / 2))):  # 118° drill point
                Cone(0, M3X0_53_D / 2, M3X0_53_TIP, mode=Mode.SUBTRACT)

    # Эскиз54 → Вырез-Вытянуть14 (cut, up to next)
    with BuildSketch(Plane(origin=(0, 0, 0), x_dir=(-1, 0, 0), z_dir=(0, 0, -1)), mode=Mode.PRIVATE) as cut_extrude_14_sk1:
        with Locations((-37.7506, 13.905438329)):
            Circle(SKETCH_54_R)
    cut_extrude_14_tool1 = extrude(cut_extrude_14_sk1.sketch, amount=-CUT_EXTRUDE_14_REACH, mode=Mode.PRIVATE) & part.part
    # Эскиз54 → Вырез-Вытянуть14 (cut, up to next)
    with BuildSketch(Plane(origin=(0, 0, 0), x_dir=(-1, 0, 0), z_dir=(0, 0, -1)), mode=Mode.PRIVATE) as cut_extrude_14_sk2:
        with Locations((-2.7494, 69.150438329)):
            Circle(SKETCH_54_R)
    cut_extrude_14_tool2 = extrude(cut_extrude_14_sk2.sketch, amount=-CUT_EXTRUDE_14_REACH, mode=Mode.PRIVATE) & part.part
    # Эскиз54 → Вырез-Вытянуть14 (cut, up to next)
    with BuildSketch(Plane(origin=(0, 0, 0), x_dir=(-1, 0, 0), z_dir=(0, 0, -1)), mode=Mode.PRIVATE) as cut_extrude_14_sk3:
        with Locations((-37.7506, 90.961314987)):
            Circle(SKETCH_54_R)
    cut_extrude_14_tool3 = extrude(cut_extrude_14_sk3.sketch, amount=-CUT_EXTRUDE_14_REACH, mode=Mode.PRIVATE) & part.part
    add(cut_extrude_14_tool1.solids().sort_by_distance((37.7506, 13.905438, 0))[0], mode=Mode.SUBTRACT)
    add(cut_extrude_14_tool2.solids().sort_by_distance((2.7494, 69.150438, 0))[0], mode=Mode.SUBTRACT)
    add(cut_extrude_14_tool3.solids().sort_by_distance((37.7506, 90.961315, 0))[0], mode=Mode.SUBTRACT)

    # Отверстие обработанное метчиком M3x0.54
    with Locations(Plane(origin=(0, 177.002923208, 0), x_dir=(1, 0, 0), z_dir=(0, 1, 0))):
        with Locations((4, -4), (4, -16), (36.5, -4), (36.5, -16)):
            Hole(M3X0_54_D / 2, depth=M3X0_54_DEPTH)
            with Locations((0, 0, -(M3X0_54_DEPTH + M3X0_54_TIP / 2))):  # 118° drill point
                Cone(0, M3X0_54_D / 2, M3X0_54_TIP, mode=Mode.SUBTRACT)


solid = part.part
